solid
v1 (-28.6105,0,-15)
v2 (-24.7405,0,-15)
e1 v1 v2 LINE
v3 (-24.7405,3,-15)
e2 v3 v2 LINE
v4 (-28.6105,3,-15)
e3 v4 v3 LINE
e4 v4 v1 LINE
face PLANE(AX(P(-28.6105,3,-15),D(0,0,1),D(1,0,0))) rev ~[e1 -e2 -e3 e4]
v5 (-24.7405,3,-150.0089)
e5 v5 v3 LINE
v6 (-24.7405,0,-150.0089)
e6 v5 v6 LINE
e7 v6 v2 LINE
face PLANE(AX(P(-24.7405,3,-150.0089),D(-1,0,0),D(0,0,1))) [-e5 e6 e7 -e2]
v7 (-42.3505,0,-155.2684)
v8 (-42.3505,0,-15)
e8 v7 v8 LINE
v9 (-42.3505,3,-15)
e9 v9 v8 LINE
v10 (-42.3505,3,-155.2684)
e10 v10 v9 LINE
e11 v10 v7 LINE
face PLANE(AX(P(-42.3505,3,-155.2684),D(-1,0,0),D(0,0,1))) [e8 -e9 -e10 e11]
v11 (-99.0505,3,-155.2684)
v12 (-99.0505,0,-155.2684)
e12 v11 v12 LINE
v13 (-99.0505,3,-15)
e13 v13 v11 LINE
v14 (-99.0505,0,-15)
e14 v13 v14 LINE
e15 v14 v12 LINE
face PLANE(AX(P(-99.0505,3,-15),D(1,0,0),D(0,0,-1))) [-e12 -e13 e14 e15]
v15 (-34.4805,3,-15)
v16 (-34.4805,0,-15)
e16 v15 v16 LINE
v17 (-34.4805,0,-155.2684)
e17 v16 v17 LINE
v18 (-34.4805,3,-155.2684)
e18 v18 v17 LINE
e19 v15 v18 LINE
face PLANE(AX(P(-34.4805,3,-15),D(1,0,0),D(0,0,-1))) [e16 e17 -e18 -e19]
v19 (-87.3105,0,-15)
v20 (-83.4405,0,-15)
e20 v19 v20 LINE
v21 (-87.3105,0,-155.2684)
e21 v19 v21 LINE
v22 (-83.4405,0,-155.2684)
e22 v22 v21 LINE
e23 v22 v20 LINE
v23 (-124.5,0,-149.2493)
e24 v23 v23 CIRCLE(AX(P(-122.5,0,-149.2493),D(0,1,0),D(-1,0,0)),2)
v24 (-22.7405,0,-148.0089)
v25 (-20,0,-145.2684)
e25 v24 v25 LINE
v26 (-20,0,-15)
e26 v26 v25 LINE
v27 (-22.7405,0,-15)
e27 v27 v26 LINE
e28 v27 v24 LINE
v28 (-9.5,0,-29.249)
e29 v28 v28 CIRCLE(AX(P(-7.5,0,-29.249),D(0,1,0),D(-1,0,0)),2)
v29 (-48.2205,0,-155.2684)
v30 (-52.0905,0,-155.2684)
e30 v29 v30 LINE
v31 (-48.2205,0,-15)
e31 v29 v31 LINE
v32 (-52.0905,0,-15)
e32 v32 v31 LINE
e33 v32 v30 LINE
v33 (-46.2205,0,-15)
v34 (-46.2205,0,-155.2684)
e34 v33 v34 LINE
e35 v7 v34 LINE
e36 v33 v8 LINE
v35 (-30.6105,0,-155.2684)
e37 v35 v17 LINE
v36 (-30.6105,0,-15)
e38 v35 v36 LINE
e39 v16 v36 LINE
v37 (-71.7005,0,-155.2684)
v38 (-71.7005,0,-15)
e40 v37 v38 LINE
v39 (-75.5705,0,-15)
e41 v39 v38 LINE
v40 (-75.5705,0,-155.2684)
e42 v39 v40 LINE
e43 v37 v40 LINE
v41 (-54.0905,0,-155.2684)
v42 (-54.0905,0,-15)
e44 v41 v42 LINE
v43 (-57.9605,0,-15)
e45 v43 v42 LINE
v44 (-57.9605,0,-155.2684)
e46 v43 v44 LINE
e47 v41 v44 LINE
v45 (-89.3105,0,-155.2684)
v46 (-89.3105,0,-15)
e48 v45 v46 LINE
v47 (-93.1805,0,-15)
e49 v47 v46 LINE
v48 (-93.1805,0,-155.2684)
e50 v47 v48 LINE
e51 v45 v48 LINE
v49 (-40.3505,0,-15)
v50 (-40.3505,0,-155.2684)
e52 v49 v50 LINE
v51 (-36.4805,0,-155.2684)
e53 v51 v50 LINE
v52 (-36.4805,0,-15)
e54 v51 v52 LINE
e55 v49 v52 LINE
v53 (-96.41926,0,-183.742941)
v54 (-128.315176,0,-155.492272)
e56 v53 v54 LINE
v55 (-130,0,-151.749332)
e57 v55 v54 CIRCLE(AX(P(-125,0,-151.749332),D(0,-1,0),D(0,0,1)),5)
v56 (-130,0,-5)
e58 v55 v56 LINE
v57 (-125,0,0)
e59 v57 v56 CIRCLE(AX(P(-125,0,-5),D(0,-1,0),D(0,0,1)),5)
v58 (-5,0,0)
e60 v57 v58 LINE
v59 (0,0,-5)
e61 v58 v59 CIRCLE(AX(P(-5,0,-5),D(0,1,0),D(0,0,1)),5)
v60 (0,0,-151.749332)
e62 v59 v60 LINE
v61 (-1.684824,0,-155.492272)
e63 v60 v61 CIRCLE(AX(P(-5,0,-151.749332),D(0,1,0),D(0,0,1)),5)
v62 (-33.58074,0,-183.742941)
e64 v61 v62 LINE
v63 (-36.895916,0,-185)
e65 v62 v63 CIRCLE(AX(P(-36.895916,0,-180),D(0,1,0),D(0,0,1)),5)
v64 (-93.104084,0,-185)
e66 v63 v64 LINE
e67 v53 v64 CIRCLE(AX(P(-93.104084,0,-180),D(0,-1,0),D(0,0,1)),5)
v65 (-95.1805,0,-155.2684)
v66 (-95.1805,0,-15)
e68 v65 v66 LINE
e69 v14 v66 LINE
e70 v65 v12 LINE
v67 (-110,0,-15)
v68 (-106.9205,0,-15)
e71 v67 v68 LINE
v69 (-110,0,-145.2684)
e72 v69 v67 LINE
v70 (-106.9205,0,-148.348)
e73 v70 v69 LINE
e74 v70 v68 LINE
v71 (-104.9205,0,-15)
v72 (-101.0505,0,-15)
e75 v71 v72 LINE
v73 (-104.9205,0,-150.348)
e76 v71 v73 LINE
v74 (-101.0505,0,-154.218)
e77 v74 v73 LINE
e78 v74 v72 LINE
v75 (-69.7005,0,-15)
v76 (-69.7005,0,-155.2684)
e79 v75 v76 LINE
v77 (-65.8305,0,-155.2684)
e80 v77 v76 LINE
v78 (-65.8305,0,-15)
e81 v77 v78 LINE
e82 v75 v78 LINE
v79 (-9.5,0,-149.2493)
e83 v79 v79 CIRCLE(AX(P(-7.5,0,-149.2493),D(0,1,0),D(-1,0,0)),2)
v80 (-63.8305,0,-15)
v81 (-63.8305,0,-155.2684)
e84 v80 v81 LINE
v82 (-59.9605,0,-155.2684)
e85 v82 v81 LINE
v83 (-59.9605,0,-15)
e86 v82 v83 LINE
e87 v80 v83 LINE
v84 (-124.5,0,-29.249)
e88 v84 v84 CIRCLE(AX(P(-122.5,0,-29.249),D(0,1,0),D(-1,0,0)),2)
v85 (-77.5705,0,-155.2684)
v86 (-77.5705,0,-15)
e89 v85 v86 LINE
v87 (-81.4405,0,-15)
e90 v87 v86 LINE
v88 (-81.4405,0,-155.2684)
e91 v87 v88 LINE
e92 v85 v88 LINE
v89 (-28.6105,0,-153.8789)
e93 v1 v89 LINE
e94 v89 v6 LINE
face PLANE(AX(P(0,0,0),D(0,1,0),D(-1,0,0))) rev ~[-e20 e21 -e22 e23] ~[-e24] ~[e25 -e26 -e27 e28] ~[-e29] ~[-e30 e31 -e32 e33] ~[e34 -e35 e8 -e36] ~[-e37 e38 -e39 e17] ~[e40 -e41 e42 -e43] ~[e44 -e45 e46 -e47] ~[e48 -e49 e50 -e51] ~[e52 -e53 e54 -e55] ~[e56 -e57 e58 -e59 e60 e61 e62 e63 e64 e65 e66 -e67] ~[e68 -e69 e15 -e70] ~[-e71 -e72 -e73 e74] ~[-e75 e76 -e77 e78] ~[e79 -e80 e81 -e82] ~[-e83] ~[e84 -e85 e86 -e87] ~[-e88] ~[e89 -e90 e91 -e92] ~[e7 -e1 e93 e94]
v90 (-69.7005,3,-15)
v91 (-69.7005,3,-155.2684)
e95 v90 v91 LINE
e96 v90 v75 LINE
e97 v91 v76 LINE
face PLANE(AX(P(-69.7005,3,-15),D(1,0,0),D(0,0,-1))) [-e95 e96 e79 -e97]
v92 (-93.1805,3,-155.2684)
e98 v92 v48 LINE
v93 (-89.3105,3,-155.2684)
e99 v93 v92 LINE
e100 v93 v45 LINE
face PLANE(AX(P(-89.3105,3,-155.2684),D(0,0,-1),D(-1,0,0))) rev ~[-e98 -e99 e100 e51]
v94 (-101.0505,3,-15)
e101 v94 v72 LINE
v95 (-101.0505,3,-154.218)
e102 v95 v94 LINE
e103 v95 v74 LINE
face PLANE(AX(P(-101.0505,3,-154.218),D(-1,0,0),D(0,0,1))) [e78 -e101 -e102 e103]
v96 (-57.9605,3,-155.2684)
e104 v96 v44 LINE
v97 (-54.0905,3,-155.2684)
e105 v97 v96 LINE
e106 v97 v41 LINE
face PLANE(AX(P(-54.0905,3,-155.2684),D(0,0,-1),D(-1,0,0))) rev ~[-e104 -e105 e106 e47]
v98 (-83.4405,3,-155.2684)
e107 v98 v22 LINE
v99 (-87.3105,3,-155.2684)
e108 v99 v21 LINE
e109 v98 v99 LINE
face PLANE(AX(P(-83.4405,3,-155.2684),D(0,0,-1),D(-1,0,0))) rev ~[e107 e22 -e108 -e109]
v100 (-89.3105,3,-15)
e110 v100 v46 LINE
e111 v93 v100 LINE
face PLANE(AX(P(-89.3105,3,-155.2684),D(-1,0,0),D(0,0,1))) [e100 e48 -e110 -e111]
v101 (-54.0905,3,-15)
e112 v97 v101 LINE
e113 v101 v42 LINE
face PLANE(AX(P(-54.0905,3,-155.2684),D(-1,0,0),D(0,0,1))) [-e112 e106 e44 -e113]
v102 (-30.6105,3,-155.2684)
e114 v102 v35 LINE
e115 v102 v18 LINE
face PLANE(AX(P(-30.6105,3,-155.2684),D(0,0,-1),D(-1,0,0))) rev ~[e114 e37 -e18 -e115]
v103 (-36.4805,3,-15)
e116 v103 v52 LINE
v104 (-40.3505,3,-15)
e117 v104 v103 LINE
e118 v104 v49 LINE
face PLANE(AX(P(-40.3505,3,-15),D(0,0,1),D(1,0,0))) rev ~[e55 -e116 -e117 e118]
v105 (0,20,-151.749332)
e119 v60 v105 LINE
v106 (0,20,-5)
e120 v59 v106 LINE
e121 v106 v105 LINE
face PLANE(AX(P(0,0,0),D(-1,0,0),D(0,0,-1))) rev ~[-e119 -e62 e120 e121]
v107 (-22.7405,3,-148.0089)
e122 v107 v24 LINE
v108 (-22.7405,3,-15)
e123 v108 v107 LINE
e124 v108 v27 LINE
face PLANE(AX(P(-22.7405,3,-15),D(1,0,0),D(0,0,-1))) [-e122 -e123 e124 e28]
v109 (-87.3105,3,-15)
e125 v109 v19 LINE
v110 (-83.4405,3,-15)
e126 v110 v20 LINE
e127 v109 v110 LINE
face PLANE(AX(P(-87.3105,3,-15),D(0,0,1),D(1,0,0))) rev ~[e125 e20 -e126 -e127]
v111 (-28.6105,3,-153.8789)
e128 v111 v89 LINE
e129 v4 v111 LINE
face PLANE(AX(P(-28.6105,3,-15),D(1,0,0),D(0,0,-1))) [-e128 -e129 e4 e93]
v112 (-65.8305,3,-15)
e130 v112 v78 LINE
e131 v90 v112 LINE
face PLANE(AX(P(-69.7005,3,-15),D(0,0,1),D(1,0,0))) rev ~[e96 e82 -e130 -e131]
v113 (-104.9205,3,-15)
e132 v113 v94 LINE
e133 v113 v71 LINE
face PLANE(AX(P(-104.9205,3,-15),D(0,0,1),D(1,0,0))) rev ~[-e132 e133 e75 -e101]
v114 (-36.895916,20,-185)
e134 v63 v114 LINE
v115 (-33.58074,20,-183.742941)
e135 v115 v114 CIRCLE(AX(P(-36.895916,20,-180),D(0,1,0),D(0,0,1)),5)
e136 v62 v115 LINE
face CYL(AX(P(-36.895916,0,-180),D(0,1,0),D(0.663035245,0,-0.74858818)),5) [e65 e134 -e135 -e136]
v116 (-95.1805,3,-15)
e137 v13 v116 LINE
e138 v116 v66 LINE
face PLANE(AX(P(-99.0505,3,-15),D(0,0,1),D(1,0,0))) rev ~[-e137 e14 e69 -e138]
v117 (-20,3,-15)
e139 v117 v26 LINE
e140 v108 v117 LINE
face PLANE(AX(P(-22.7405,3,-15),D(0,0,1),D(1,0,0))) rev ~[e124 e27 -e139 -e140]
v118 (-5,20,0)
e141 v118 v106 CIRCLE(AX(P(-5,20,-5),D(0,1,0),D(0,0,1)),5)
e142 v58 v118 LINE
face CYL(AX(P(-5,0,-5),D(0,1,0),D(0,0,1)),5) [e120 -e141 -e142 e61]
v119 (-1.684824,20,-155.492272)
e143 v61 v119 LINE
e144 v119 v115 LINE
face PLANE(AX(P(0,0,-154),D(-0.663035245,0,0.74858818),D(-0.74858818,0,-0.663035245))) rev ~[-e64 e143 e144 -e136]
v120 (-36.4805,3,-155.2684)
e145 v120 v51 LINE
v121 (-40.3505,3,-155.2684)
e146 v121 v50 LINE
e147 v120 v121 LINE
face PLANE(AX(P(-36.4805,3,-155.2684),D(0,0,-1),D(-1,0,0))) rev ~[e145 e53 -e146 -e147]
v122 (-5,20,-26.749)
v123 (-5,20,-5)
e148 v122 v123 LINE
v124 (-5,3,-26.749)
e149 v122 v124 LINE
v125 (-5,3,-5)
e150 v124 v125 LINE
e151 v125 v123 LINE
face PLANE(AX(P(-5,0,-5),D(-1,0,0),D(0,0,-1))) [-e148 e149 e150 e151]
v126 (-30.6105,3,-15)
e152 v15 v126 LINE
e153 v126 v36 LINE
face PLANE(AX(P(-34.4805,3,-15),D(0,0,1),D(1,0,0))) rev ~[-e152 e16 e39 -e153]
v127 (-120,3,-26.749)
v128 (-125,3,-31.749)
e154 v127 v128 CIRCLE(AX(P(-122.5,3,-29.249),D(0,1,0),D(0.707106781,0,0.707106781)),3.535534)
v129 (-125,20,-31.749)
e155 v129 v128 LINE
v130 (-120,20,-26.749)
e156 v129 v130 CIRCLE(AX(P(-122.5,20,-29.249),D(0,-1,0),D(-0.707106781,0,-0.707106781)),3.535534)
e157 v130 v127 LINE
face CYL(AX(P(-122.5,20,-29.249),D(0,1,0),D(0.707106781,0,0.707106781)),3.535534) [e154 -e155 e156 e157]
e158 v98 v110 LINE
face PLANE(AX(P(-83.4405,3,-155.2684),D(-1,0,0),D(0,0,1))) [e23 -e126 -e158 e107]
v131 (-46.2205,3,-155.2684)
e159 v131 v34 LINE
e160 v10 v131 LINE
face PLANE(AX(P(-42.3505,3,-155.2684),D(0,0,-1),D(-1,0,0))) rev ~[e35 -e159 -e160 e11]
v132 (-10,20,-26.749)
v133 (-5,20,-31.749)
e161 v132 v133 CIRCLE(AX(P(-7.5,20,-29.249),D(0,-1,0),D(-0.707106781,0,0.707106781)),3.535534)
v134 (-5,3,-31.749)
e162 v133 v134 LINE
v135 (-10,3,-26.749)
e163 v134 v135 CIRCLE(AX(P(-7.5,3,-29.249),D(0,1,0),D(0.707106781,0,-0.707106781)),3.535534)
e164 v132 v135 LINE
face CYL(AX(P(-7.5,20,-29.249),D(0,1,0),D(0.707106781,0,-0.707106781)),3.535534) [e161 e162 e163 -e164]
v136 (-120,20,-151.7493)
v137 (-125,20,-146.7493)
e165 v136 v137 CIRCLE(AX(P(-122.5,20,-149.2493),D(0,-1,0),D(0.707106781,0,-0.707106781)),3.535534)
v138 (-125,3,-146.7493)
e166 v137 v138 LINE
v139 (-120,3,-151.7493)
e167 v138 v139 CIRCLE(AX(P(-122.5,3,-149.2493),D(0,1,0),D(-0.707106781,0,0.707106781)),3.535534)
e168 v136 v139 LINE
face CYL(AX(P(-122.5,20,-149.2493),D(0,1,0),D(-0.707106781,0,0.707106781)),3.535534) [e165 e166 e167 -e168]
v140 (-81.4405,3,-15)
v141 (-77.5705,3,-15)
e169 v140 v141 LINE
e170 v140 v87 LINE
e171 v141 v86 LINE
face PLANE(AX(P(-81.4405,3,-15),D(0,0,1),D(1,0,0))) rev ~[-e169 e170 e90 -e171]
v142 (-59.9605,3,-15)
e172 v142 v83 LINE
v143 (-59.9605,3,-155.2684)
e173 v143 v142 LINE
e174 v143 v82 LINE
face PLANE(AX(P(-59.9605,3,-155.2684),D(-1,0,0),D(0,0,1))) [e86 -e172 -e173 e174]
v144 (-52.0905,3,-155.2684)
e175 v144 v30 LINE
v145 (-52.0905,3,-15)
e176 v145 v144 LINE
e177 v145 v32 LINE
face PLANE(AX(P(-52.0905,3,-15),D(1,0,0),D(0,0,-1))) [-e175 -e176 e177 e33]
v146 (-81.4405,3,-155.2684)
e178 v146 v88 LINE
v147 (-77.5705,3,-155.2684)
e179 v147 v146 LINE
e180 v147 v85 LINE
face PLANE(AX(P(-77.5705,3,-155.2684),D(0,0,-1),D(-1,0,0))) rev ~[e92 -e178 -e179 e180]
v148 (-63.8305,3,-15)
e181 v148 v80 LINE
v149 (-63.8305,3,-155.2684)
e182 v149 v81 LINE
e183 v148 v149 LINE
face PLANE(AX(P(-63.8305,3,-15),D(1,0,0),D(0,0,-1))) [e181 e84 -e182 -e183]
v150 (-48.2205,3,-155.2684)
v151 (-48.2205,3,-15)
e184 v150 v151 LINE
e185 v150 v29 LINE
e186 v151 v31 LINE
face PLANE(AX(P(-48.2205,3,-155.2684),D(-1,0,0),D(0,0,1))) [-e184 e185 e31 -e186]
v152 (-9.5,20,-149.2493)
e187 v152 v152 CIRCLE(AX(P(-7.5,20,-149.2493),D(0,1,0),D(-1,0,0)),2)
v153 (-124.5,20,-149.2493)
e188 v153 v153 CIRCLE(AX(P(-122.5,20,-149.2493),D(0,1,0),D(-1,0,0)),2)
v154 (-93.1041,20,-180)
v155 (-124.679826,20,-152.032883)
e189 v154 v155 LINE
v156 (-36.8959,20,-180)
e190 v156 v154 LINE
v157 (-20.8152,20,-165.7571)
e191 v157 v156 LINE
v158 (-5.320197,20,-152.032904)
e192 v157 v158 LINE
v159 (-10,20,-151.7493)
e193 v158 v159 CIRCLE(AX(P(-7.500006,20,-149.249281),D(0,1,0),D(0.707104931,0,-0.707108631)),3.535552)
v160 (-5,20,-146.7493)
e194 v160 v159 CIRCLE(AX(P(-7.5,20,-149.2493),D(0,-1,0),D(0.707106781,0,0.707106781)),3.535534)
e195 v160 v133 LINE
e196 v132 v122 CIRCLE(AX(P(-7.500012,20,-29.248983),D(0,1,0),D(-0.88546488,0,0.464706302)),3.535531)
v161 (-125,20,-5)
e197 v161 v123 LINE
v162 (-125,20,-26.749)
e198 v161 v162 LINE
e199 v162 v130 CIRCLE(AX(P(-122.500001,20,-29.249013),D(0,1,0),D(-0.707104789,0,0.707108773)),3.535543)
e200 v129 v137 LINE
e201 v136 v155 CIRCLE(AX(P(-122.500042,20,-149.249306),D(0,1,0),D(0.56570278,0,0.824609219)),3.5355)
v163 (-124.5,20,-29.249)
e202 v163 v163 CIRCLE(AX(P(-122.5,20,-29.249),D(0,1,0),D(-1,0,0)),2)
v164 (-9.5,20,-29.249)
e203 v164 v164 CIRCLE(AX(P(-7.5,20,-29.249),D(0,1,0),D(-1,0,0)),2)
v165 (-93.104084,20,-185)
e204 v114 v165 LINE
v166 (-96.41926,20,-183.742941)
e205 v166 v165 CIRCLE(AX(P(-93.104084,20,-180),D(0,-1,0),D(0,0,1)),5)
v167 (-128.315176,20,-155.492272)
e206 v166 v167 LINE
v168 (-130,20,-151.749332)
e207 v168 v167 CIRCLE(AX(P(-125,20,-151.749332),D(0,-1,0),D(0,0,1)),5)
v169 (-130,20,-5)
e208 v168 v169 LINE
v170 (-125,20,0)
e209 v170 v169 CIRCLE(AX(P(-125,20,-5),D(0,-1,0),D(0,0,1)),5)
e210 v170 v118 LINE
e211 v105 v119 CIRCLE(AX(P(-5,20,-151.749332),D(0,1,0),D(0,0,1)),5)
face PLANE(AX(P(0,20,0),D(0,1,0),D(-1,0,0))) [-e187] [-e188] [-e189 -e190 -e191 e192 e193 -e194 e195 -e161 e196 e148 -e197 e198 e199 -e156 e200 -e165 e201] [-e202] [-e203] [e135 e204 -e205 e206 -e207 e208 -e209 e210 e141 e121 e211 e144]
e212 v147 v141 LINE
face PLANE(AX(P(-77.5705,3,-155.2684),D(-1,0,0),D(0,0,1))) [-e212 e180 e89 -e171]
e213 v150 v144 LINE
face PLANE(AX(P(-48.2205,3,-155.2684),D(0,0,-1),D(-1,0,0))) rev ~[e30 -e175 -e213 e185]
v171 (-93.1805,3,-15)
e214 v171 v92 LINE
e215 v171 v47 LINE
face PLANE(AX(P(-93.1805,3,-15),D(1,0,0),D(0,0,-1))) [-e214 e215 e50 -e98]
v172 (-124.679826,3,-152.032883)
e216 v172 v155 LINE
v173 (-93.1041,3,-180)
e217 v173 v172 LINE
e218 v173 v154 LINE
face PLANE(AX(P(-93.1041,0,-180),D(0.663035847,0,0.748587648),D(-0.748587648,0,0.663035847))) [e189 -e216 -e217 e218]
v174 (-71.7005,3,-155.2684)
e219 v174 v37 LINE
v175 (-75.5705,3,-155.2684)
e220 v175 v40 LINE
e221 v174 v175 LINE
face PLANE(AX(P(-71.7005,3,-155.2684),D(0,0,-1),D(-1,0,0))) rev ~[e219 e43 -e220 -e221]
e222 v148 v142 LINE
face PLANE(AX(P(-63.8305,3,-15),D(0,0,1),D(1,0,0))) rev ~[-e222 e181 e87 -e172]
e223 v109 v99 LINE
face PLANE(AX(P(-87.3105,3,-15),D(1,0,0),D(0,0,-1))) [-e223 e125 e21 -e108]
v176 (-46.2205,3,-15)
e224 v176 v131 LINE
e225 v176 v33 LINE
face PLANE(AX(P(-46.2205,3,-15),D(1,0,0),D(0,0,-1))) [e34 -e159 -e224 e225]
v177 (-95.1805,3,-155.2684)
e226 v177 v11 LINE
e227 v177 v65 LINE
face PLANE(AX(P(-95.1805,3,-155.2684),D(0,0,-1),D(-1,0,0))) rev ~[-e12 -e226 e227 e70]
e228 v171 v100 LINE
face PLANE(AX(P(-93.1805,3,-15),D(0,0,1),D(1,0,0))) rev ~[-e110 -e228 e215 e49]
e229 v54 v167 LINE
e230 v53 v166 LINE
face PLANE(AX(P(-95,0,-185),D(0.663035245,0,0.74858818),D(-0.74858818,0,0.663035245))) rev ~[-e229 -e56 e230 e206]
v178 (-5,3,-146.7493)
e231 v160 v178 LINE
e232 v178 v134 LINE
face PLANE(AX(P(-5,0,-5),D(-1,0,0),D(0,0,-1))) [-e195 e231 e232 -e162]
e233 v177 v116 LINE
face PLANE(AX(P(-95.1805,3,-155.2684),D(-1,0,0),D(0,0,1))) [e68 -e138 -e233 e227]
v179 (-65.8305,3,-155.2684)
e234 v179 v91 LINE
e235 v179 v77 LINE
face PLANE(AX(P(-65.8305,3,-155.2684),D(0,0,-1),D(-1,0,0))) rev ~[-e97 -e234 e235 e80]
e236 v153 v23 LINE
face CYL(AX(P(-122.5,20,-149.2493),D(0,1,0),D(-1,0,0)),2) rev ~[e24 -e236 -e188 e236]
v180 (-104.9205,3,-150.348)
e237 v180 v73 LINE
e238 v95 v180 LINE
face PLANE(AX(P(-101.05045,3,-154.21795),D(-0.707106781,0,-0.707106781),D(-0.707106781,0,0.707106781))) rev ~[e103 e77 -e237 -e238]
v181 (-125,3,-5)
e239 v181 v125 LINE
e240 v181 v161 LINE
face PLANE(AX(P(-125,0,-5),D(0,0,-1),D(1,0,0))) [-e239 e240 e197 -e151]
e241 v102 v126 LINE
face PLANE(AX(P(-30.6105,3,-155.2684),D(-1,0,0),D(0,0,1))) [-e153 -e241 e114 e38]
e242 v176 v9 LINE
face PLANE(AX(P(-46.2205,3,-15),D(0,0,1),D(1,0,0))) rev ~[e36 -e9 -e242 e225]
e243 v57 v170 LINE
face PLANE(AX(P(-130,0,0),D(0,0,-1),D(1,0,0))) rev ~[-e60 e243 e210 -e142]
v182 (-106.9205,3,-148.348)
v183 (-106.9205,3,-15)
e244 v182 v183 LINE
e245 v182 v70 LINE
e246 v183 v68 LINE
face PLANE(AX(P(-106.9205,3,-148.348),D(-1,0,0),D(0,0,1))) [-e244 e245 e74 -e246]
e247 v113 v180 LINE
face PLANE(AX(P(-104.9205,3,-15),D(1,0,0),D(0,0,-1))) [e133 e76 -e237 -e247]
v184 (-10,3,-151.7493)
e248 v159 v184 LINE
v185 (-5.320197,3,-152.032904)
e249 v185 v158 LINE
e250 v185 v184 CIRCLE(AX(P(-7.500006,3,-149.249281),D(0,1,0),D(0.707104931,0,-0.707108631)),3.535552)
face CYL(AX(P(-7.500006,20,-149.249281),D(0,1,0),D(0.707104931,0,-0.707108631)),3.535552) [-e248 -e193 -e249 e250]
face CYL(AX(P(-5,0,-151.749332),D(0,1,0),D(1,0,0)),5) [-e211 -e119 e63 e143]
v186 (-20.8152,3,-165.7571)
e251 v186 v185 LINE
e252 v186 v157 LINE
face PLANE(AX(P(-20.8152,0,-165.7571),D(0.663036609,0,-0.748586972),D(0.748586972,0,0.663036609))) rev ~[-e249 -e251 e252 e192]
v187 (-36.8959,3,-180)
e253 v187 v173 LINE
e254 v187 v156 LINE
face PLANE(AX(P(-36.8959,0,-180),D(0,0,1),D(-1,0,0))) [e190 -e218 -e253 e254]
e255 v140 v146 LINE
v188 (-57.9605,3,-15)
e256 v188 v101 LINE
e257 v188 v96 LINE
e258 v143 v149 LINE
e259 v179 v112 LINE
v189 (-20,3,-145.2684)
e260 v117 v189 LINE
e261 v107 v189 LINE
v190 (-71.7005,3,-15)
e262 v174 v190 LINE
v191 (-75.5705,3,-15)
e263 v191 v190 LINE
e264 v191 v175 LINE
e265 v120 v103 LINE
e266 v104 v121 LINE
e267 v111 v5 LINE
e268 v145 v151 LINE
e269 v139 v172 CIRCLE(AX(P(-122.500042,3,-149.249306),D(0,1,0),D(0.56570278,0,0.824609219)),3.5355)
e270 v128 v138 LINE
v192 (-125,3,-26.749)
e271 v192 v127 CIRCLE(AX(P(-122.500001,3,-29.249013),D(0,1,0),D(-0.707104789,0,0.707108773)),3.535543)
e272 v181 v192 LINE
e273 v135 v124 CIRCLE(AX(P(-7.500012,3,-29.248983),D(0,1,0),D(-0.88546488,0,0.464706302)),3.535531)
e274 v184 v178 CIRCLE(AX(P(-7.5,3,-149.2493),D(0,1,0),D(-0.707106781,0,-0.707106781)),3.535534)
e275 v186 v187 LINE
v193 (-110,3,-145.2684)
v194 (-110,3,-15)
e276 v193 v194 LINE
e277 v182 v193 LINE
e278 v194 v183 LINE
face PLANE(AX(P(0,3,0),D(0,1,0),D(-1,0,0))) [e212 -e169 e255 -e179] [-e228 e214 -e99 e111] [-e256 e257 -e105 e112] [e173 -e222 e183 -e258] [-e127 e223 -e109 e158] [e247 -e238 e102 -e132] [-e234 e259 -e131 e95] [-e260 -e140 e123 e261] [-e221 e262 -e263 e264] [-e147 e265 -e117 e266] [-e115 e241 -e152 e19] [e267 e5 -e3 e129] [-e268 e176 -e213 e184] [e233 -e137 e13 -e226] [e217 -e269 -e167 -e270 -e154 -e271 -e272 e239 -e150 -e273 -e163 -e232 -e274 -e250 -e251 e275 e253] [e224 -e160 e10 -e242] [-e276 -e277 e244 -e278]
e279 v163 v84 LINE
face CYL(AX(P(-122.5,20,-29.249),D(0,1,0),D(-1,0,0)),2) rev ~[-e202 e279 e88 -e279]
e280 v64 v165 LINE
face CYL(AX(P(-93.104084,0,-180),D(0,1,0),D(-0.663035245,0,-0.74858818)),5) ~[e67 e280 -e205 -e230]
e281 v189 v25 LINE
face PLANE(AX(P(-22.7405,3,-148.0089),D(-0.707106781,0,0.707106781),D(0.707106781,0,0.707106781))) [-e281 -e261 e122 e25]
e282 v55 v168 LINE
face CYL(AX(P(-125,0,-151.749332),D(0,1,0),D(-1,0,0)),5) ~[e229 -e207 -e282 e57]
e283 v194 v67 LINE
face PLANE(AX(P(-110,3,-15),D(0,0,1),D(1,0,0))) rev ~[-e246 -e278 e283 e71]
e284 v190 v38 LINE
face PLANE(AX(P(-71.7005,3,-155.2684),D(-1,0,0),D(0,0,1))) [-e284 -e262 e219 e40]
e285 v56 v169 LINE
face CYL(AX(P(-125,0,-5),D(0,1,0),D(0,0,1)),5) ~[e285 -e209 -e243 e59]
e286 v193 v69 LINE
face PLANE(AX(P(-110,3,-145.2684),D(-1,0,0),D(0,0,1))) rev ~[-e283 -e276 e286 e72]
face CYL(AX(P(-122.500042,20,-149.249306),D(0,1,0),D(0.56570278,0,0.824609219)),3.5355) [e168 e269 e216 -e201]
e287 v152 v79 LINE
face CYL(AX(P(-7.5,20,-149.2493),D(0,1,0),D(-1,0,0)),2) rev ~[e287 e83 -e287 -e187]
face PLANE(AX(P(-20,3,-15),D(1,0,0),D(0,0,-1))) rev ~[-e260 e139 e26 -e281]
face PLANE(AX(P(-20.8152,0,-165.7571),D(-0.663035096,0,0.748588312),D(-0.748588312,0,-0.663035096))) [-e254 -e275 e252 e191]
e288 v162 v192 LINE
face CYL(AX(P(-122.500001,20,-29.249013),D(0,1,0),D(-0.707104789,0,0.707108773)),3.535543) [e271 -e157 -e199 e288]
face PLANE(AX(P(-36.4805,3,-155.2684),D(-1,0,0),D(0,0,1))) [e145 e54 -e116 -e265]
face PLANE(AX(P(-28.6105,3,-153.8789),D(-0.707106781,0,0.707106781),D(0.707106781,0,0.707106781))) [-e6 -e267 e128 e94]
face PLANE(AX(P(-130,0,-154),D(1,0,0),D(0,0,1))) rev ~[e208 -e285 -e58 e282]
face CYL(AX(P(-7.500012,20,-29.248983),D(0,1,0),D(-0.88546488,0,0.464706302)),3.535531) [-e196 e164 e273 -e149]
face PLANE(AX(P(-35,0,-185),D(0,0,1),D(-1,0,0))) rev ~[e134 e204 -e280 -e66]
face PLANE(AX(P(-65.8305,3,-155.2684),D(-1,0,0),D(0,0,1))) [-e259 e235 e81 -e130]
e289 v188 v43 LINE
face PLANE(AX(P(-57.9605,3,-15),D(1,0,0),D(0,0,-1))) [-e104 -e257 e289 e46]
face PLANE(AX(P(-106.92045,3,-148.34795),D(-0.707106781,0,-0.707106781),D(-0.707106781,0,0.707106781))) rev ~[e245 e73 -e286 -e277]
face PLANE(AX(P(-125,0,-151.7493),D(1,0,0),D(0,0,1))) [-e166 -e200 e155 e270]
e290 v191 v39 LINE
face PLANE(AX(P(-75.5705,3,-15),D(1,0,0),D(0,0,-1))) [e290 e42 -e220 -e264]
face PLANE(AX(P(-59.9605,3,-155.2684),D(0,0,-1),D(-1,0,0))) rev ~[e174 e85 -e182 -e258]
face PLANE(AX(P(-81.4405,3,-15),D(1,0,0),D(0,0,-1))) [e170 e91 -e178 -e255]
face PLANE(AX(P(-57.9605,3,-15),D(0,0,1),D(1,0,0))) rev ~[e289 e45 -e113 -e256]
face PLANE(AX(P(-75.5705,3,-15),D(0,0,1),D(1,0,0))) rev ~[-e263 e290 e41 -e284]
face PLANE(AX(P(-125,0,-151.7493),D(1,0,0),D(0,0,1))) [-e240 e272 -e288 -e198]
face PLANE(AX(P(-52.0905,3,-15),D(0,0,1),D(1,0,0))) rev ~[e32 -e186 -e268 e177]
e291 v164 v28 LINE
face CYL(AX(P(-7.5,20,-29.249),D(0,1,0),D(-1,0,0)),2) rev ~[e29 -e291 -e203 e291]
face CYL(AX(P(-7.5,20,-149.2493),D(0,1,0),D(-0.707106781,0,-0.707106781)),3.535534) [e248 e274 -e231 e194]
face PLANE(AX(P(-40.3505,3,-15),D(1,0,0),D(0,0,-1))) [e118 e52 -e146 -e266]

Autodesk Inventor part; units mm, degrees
ref_plane "YZ Plane" through (0, 0, 0) normal (1, 0, 0) x (0, 1, 0)
ref_plane "XY Plane" through (0, 0, 0) normal (0, 0, 1) x (1, 0, 0)
sketch "Boceto1" plane through (0, 0, 0) normal (0, 1, 0) x (-1, 0, 0)
  line L0 (0, 0) -> (0, -154)
  line L1 (35, -185) -> (95, -185)
  line L2 (130, -154) -> (130, 0)
  line L3 (130, 0) -> (0, 0)
  line L4 (0, 0) -> (0, -154) construction
  line L5 (65, -185) -> (95, -185) construction
  line L6 (95, -185) -> (95, -206.4869) construction
  line L7 (95, -206.4869) -> (35, -206.4869) construction
  line L8 (35, -206.4869) -> (35, -185) construction
  line L9 (0, -154) -> (35, -185)
  line L10 (95, -185) -> (130, -154)
  line L11 (61.4516, 0) -> (61.4516, -5) construction
  line L12 (130, -81.3037) -> (125, -81.3037) construction
  line L13 (0, -85.0807) -> (5, -85.0807) construction
  line L14 (125, -5) -> (5, -5)
  line L15 (5, -5) -> (5, -148.3548)
  line L16 (125, -148.3548) -> (125, -5)
  line L17 (112.5, -169.5) -> (109.1848, -165.7571) construction
  line L18 (65, -185) -> (65, -180) construction
  line L19 (17.5, -169.5) -> (20.8152, -165.7571) construction
  line L20 (20.8152, -165.7571) -> (5, -151.7493)
  line L21 (20.8152, -165.7571) -> (36.8959, -180)
  line L22 (36.8959, -180) -> (93.1041, -180)
  line L23 (93.1041, -180) -> (125, -151.7493)
  line L24 (125, -151.7493) -> (125, -148.3548)
  line L25 (5, -148.3548) -> (5, -151.7493)
  dimension "d2" = 154
  dimension "d3" = 30
  dimension "d4" = 60
  dimension "d5" = 5
  dimension "d6" = 5
  dimension "d7" = 5
  dimension "d8" = 5
  dimension "d9" = 5
  dimension "d10" = 5
extrude "Extrusión1" add sketch "Boceto1" along normal blind 3 contours L16 L24 L23 L22 L21 L20 L25 L15 L14
extrude "Extrusión2" add sketch "Boceto1" along normal blind 20
ref_plane "Plano de trabajo1" through (0, 20, 0) normal (0, 1, 0) x (-1, 0, 0)
sketch "Boceto2" plane through (0, 20, 0) normal (0, 1, 0) x (-1, 0, 0)
  line L0 (0, 0) -> (0, -154) construction
  line L1 (0, 0) -> (0, -26.749) construction
  line L2 (130, -154) -> (130, 0) construction
  line L3 (125, -151.7493) -> (93.1041, -180) construction
  line L4 (125, -151.7493) -> (5, -151.7493) construction
  line L5 (65, -151.7493) -> (65, -26.749) construction
  line L6 (125, -89.2492) -> (5, -89.2492) construction
  line L7 (5, -151.7493) -> (5, -5) construction
  line L8 (125, -26.749) -> (125, -31.749) construction
  line L9 (125, -31.749) -> (120, -31.749) construction
  line L10 (120, -31.749) -> (120, -26.749) construction
  line L11 (125, -31.749) -> (120, -26.749) construction
  line L12 (120, -31.749) -> (125, -26.749) construction
  circle A0 centre (122.5, -29.249) radius 2
  line L13 (125, -31.749) -> (125, -26.749)
  arc A1 (120, -26.749) -> (125, -31.749) centre (122.5, -29.249) ccw
  line L14 (5, -26.749) -> (5, -31.749) construction
  circle A2 centre (7.5, -29.249) radius 2
  line L15 (5, -31.749) -> (5, -26.749)
  arc A3 (5, -31.749) -> (10, -26.749) centre (7.5, -29.249) ccw
  arc A4 (125, -26.749) -> (120.5, -32.1645) centre (122.5, -29.249) ccw
  arc A5 (10.6306, -27.606) -> (5, -26.749) centre (7.5, -29.249) ccw
  line L16 (5, -26.749) -> (5, -173.4983) construction
  line L17 (125, -151.7493) -> (125, -146.7493) construction
  line L18 (120, -146.7493) -> (125, -151.7493) construction
  circle A6 centre (122.5, -149.2493) radius 2
  line L19 (125, -146.7493) -> (125, -151.7493)
  arc A7 (125, -146.7493) -> (120, -151.7493) centre (122.5, -149.2493) ccw
  arc A8 (10, -151.7493) -> (5, -146.7493) centre (7.5, -149.2493) ccw
  line L20 (5, -151.7493) -> (5, -146.7493) construction
  line L21 (5, -146.7493) -> (5, -151.7493)
  circle A9 centre (7.5, -149.2493) radius 2
  arc A10 (120.5, -146.3339) -> (125, -151.7493) centre (122.5, -149.2493) ccw
  arc A11 (5, -151.7493) -> (10.6306, -150.8923) centre (7.5, -149.2493) ccw
  point P0 (10, -151.7493)
  point P1 (10, -26.749)
  point P2 (120, -26.749)
  dimension "d16" = 26.749
  dimension "d19" = 4
extrude "Extrusión3" add sketch "Boceto2" against normal blind 17
extrude "Extrusión4" cut sketch "Boceto2" against normal through all contours A0 | A2 | A6 | A9
sketch "Boceto3" plane through (0, 3, 0) normal (0, 1, 0) x (1, 0, 0)
  line L0 (-125, 5) -> (-5, 5) construction
  line L1 (-65, 5) -> (-110, 5) construction
  line L2 (-110, 5) -> (-110, 15) construction
  line L3 (-110, 15) -> (-20, 15)
  line L4 (-20, 15) -> (-20, 145.2684)
  line L5 (-30, 155.2684) -> (-100, 155.2684)
  line L6 (-110, 145.2684) -> (-110, 15)
  line L7 (-65, 15) -> (-65, 155.2684) construction
  line L8 (-100, 155.2684) -> (-110, 145.2684)
  line L9 (-30, 155.2684) -> (-20, 145.2684)
  line L10 (-106.9205, 15) -> (-104.9205, 15)
  line L11 (-104.9205, 15) -> (-104.9205, 155.2684)
  line L12 (-106.9205, 155.2684) -> (-106.9205, 15)
  line L13 (-99.0505, 15) -> (-99.0505, 155.2684)
  line L14 (-101.0505, 155.2684) -> (-101.0505, 15)
  line L15 (-93.1805, 15) -> (-93.1805, 155.2684)
  line L16 (-95.1805, 155.2684) -> (-95.1805, 15)
  line L17 (-87.3105, 15) -> (-87.3105, 155.2684)
  line L18 (-89.3105, 155.2684) -> (-89.3105, 15)
  line L19 (-81.4405, 15) -> (-81.4405, 155.2684)
  line L20 (-83.4405, 155.2684) -> (-83.4405, 15)
  line L21 (-75.5705, 15) -> (-75.5705, 155.2684)
  line L22 (-77.5705, 155.2684) -> (-77.5705, 15)
  line L23 (-69.7005, 15) -> (-69.7005, 155.2684)
  line L24 (-71.7005, 155.2684) -> (-71.7005, 15)
  line L25 (-63.8305, 15) -> (-63.8305, 155.2684)
  line L26 (-65.8305, 155.2684) -> (-65.8305, 15)
  line L27 (-57.9605, 15) -> (-57.9605, 155.2684)
  line L28 (-59.9605, 155.2684) -> (-59.9605, 15)
  line L29 (-52.0905, 15) -> (-52.0905, 155.2684)
  line L30 (-54.0905, 155.2684) -> (-54.0905, 15)
  line L31 (-46.2205, 15) -> (-46.2205, 155.2684)
  line L32 (-48.2205, 155.2684) -> (-48.2205, 15)
  line L33 (-40.3505, 15) -> (-40.3505, 155.2684)
  line L34 (-42.3505, 155.2684) -> (-42.3505, 15)
  line L35 (-34.4805, 15) -> (-34.4805, 155.2684)
  line L36 (-36.4805, 155.2684) -> (-36.4805, 15)
  line L37 (-28.6105, 15) -> (-28.6105, 155.2684)
  line L38 (-30.6105, 155.2684) -> (-30.6105, 15)
  line L39 (-22.7405, 15) -> (-22.7405, 155.2684)
  line L40 (-24.7405, 155.2684) -> (-24.7405, 15)
  line L41 (-106.9205, 148.348) -> (-104.9205, 150.348)
  line L42 (-101.0505, 154.218) -> (-100, 155.2684)
  line L43 (-110, 145.2684) -> (-100, 155.2684)
  line L44 (-100, 155.2684) -> (-30, 155.2684)
  line L45 (-30, 155.2684) -> (-20, 145.2684)
  line L46 (-20, 145.2684) -> (-20, 15)
  line L47 (-110, 15) -> (-20, 15)
  line L48 (-110, 15) -> (-110, 145.2684)
  line L49 (-83.4405, 15) -> (-81.4405, 15)
  line L50 (-77.5705, 15) -> (-75.5705, 15)
  line L51 (-87.3105, 15) -> (-89.3105, 15)
  line L52 (-93.1805, 15) -> (-95.1805, 15)
  line L53 (-99.0505, 15) -> (-101.0505, 15)
  line L54 (-104.9205, 15) -> (-106.9205, 15)
  line L55 (-71.7005, 15) -> (-69.7005, 15)
  line L56 (-65.8305, 15) -> (-63.8305, 15)
  line L57 (-59.9605, 15) -> (-57.9605, 15)
  line L58 (-54.0905, 15) -> (-52.0905, 15)
  line L59 (-48.2205, 15) -> (-46.2205, 15)
  line L60 (-42.3505, 15) -> (-40.3505, 15)
  line L61 (-36.4805, 15) -> (-34.4805, 15)
  line L62 (-30.6105, 15) -> (-28.6105, 15)
  line L63 (-24.7405, 15) -> (-22.7405, 15)
  line L64 (-22.7405, 148.0089) -> (-24.7405, 150.0089)
  line L65 (-28.6105, 153.8789) -> (-30, 155.2684)
  line L66 (-30.6105, 155.2684) -> (-30, 155.2684)
  line L67 (-35, 185) -> (-95, 185) projected
  line L68 (-34.4805, 155.2684) -> (-36.4805, 155.2684)
  line L69 (-40.3505, 155.2684) -> (-42.3505, 155.2684)
  line L70 (-46.2205, 155.2684) -> (-48.2205, 155.2684)
  line L71 (-52.0905, 155.2684) -> (-54.0905, 155.2684)
  line L72 (-57.9605, 155.2684) -> (-59.9605, 155.2684)
  line L73 (-63.8305, 155.2684) -> (-65.8305, 155.2684)
  line L74 (-69.7005, 155.2684) -> (-71.7005, 155.2684)
  line L75 (-75.5705, 155.2684) -> (-77.5705, 155.2684)
  line L76 (-81.4405, 155.2684) -> (-83.4405, 155.2684)
  line L77 (-87.3105, 155.2684) -> (-89.3105, 155.2684)
  line L78 (-93.1805, 155.2684) -> (-95.1805, 155.2684)
  line L79 (-99.0505, 155.2684) -> (-100, 155.2684)
  line L80 (-101.0505, 154.218) -> (-100, 155.2684)
  line L81 (-104.9205, 150.348) -> (-106.9205, 148.348)
  line L82 (-106.9205, 148.348) -> (-104.9205, 150.348)
  point P0 (0, 0)
  dimension "d24" = 45
  dimension "d25" = 10
  dimension "d32" = 5.87
extrude "Extrusión5" cut sketch "Boceto3" against normal blind 10 contours L6 L8 L12 L3 | L11 L8 L14 L3 | L13 L5 L16 L3 | L15 L5 L18 L3 | L17 L5 L20 L3 | L19 L5 L22 L3 | L21 L5 L24 L3 | L23 L5 L26 L3 | L25 L5 L28 L3 | L27 L5 L30 L3 | L29 L5 L32 L3 | L31 L5 L34 L3 | L33 L5 L36 L3 | L35 L5 L38 L3 | L37 L9 L40 L3 | L39 L9 L4 L3
fillet "Empalme1" radius 5 4 edges at (-130, 10, 0) (0, 10, 0) (0, 10, -154) (-130, 10, -154)
fillet "Empalme2" radius 5 2 edges at (-95, 10, -185) (-35, 10, -185)
